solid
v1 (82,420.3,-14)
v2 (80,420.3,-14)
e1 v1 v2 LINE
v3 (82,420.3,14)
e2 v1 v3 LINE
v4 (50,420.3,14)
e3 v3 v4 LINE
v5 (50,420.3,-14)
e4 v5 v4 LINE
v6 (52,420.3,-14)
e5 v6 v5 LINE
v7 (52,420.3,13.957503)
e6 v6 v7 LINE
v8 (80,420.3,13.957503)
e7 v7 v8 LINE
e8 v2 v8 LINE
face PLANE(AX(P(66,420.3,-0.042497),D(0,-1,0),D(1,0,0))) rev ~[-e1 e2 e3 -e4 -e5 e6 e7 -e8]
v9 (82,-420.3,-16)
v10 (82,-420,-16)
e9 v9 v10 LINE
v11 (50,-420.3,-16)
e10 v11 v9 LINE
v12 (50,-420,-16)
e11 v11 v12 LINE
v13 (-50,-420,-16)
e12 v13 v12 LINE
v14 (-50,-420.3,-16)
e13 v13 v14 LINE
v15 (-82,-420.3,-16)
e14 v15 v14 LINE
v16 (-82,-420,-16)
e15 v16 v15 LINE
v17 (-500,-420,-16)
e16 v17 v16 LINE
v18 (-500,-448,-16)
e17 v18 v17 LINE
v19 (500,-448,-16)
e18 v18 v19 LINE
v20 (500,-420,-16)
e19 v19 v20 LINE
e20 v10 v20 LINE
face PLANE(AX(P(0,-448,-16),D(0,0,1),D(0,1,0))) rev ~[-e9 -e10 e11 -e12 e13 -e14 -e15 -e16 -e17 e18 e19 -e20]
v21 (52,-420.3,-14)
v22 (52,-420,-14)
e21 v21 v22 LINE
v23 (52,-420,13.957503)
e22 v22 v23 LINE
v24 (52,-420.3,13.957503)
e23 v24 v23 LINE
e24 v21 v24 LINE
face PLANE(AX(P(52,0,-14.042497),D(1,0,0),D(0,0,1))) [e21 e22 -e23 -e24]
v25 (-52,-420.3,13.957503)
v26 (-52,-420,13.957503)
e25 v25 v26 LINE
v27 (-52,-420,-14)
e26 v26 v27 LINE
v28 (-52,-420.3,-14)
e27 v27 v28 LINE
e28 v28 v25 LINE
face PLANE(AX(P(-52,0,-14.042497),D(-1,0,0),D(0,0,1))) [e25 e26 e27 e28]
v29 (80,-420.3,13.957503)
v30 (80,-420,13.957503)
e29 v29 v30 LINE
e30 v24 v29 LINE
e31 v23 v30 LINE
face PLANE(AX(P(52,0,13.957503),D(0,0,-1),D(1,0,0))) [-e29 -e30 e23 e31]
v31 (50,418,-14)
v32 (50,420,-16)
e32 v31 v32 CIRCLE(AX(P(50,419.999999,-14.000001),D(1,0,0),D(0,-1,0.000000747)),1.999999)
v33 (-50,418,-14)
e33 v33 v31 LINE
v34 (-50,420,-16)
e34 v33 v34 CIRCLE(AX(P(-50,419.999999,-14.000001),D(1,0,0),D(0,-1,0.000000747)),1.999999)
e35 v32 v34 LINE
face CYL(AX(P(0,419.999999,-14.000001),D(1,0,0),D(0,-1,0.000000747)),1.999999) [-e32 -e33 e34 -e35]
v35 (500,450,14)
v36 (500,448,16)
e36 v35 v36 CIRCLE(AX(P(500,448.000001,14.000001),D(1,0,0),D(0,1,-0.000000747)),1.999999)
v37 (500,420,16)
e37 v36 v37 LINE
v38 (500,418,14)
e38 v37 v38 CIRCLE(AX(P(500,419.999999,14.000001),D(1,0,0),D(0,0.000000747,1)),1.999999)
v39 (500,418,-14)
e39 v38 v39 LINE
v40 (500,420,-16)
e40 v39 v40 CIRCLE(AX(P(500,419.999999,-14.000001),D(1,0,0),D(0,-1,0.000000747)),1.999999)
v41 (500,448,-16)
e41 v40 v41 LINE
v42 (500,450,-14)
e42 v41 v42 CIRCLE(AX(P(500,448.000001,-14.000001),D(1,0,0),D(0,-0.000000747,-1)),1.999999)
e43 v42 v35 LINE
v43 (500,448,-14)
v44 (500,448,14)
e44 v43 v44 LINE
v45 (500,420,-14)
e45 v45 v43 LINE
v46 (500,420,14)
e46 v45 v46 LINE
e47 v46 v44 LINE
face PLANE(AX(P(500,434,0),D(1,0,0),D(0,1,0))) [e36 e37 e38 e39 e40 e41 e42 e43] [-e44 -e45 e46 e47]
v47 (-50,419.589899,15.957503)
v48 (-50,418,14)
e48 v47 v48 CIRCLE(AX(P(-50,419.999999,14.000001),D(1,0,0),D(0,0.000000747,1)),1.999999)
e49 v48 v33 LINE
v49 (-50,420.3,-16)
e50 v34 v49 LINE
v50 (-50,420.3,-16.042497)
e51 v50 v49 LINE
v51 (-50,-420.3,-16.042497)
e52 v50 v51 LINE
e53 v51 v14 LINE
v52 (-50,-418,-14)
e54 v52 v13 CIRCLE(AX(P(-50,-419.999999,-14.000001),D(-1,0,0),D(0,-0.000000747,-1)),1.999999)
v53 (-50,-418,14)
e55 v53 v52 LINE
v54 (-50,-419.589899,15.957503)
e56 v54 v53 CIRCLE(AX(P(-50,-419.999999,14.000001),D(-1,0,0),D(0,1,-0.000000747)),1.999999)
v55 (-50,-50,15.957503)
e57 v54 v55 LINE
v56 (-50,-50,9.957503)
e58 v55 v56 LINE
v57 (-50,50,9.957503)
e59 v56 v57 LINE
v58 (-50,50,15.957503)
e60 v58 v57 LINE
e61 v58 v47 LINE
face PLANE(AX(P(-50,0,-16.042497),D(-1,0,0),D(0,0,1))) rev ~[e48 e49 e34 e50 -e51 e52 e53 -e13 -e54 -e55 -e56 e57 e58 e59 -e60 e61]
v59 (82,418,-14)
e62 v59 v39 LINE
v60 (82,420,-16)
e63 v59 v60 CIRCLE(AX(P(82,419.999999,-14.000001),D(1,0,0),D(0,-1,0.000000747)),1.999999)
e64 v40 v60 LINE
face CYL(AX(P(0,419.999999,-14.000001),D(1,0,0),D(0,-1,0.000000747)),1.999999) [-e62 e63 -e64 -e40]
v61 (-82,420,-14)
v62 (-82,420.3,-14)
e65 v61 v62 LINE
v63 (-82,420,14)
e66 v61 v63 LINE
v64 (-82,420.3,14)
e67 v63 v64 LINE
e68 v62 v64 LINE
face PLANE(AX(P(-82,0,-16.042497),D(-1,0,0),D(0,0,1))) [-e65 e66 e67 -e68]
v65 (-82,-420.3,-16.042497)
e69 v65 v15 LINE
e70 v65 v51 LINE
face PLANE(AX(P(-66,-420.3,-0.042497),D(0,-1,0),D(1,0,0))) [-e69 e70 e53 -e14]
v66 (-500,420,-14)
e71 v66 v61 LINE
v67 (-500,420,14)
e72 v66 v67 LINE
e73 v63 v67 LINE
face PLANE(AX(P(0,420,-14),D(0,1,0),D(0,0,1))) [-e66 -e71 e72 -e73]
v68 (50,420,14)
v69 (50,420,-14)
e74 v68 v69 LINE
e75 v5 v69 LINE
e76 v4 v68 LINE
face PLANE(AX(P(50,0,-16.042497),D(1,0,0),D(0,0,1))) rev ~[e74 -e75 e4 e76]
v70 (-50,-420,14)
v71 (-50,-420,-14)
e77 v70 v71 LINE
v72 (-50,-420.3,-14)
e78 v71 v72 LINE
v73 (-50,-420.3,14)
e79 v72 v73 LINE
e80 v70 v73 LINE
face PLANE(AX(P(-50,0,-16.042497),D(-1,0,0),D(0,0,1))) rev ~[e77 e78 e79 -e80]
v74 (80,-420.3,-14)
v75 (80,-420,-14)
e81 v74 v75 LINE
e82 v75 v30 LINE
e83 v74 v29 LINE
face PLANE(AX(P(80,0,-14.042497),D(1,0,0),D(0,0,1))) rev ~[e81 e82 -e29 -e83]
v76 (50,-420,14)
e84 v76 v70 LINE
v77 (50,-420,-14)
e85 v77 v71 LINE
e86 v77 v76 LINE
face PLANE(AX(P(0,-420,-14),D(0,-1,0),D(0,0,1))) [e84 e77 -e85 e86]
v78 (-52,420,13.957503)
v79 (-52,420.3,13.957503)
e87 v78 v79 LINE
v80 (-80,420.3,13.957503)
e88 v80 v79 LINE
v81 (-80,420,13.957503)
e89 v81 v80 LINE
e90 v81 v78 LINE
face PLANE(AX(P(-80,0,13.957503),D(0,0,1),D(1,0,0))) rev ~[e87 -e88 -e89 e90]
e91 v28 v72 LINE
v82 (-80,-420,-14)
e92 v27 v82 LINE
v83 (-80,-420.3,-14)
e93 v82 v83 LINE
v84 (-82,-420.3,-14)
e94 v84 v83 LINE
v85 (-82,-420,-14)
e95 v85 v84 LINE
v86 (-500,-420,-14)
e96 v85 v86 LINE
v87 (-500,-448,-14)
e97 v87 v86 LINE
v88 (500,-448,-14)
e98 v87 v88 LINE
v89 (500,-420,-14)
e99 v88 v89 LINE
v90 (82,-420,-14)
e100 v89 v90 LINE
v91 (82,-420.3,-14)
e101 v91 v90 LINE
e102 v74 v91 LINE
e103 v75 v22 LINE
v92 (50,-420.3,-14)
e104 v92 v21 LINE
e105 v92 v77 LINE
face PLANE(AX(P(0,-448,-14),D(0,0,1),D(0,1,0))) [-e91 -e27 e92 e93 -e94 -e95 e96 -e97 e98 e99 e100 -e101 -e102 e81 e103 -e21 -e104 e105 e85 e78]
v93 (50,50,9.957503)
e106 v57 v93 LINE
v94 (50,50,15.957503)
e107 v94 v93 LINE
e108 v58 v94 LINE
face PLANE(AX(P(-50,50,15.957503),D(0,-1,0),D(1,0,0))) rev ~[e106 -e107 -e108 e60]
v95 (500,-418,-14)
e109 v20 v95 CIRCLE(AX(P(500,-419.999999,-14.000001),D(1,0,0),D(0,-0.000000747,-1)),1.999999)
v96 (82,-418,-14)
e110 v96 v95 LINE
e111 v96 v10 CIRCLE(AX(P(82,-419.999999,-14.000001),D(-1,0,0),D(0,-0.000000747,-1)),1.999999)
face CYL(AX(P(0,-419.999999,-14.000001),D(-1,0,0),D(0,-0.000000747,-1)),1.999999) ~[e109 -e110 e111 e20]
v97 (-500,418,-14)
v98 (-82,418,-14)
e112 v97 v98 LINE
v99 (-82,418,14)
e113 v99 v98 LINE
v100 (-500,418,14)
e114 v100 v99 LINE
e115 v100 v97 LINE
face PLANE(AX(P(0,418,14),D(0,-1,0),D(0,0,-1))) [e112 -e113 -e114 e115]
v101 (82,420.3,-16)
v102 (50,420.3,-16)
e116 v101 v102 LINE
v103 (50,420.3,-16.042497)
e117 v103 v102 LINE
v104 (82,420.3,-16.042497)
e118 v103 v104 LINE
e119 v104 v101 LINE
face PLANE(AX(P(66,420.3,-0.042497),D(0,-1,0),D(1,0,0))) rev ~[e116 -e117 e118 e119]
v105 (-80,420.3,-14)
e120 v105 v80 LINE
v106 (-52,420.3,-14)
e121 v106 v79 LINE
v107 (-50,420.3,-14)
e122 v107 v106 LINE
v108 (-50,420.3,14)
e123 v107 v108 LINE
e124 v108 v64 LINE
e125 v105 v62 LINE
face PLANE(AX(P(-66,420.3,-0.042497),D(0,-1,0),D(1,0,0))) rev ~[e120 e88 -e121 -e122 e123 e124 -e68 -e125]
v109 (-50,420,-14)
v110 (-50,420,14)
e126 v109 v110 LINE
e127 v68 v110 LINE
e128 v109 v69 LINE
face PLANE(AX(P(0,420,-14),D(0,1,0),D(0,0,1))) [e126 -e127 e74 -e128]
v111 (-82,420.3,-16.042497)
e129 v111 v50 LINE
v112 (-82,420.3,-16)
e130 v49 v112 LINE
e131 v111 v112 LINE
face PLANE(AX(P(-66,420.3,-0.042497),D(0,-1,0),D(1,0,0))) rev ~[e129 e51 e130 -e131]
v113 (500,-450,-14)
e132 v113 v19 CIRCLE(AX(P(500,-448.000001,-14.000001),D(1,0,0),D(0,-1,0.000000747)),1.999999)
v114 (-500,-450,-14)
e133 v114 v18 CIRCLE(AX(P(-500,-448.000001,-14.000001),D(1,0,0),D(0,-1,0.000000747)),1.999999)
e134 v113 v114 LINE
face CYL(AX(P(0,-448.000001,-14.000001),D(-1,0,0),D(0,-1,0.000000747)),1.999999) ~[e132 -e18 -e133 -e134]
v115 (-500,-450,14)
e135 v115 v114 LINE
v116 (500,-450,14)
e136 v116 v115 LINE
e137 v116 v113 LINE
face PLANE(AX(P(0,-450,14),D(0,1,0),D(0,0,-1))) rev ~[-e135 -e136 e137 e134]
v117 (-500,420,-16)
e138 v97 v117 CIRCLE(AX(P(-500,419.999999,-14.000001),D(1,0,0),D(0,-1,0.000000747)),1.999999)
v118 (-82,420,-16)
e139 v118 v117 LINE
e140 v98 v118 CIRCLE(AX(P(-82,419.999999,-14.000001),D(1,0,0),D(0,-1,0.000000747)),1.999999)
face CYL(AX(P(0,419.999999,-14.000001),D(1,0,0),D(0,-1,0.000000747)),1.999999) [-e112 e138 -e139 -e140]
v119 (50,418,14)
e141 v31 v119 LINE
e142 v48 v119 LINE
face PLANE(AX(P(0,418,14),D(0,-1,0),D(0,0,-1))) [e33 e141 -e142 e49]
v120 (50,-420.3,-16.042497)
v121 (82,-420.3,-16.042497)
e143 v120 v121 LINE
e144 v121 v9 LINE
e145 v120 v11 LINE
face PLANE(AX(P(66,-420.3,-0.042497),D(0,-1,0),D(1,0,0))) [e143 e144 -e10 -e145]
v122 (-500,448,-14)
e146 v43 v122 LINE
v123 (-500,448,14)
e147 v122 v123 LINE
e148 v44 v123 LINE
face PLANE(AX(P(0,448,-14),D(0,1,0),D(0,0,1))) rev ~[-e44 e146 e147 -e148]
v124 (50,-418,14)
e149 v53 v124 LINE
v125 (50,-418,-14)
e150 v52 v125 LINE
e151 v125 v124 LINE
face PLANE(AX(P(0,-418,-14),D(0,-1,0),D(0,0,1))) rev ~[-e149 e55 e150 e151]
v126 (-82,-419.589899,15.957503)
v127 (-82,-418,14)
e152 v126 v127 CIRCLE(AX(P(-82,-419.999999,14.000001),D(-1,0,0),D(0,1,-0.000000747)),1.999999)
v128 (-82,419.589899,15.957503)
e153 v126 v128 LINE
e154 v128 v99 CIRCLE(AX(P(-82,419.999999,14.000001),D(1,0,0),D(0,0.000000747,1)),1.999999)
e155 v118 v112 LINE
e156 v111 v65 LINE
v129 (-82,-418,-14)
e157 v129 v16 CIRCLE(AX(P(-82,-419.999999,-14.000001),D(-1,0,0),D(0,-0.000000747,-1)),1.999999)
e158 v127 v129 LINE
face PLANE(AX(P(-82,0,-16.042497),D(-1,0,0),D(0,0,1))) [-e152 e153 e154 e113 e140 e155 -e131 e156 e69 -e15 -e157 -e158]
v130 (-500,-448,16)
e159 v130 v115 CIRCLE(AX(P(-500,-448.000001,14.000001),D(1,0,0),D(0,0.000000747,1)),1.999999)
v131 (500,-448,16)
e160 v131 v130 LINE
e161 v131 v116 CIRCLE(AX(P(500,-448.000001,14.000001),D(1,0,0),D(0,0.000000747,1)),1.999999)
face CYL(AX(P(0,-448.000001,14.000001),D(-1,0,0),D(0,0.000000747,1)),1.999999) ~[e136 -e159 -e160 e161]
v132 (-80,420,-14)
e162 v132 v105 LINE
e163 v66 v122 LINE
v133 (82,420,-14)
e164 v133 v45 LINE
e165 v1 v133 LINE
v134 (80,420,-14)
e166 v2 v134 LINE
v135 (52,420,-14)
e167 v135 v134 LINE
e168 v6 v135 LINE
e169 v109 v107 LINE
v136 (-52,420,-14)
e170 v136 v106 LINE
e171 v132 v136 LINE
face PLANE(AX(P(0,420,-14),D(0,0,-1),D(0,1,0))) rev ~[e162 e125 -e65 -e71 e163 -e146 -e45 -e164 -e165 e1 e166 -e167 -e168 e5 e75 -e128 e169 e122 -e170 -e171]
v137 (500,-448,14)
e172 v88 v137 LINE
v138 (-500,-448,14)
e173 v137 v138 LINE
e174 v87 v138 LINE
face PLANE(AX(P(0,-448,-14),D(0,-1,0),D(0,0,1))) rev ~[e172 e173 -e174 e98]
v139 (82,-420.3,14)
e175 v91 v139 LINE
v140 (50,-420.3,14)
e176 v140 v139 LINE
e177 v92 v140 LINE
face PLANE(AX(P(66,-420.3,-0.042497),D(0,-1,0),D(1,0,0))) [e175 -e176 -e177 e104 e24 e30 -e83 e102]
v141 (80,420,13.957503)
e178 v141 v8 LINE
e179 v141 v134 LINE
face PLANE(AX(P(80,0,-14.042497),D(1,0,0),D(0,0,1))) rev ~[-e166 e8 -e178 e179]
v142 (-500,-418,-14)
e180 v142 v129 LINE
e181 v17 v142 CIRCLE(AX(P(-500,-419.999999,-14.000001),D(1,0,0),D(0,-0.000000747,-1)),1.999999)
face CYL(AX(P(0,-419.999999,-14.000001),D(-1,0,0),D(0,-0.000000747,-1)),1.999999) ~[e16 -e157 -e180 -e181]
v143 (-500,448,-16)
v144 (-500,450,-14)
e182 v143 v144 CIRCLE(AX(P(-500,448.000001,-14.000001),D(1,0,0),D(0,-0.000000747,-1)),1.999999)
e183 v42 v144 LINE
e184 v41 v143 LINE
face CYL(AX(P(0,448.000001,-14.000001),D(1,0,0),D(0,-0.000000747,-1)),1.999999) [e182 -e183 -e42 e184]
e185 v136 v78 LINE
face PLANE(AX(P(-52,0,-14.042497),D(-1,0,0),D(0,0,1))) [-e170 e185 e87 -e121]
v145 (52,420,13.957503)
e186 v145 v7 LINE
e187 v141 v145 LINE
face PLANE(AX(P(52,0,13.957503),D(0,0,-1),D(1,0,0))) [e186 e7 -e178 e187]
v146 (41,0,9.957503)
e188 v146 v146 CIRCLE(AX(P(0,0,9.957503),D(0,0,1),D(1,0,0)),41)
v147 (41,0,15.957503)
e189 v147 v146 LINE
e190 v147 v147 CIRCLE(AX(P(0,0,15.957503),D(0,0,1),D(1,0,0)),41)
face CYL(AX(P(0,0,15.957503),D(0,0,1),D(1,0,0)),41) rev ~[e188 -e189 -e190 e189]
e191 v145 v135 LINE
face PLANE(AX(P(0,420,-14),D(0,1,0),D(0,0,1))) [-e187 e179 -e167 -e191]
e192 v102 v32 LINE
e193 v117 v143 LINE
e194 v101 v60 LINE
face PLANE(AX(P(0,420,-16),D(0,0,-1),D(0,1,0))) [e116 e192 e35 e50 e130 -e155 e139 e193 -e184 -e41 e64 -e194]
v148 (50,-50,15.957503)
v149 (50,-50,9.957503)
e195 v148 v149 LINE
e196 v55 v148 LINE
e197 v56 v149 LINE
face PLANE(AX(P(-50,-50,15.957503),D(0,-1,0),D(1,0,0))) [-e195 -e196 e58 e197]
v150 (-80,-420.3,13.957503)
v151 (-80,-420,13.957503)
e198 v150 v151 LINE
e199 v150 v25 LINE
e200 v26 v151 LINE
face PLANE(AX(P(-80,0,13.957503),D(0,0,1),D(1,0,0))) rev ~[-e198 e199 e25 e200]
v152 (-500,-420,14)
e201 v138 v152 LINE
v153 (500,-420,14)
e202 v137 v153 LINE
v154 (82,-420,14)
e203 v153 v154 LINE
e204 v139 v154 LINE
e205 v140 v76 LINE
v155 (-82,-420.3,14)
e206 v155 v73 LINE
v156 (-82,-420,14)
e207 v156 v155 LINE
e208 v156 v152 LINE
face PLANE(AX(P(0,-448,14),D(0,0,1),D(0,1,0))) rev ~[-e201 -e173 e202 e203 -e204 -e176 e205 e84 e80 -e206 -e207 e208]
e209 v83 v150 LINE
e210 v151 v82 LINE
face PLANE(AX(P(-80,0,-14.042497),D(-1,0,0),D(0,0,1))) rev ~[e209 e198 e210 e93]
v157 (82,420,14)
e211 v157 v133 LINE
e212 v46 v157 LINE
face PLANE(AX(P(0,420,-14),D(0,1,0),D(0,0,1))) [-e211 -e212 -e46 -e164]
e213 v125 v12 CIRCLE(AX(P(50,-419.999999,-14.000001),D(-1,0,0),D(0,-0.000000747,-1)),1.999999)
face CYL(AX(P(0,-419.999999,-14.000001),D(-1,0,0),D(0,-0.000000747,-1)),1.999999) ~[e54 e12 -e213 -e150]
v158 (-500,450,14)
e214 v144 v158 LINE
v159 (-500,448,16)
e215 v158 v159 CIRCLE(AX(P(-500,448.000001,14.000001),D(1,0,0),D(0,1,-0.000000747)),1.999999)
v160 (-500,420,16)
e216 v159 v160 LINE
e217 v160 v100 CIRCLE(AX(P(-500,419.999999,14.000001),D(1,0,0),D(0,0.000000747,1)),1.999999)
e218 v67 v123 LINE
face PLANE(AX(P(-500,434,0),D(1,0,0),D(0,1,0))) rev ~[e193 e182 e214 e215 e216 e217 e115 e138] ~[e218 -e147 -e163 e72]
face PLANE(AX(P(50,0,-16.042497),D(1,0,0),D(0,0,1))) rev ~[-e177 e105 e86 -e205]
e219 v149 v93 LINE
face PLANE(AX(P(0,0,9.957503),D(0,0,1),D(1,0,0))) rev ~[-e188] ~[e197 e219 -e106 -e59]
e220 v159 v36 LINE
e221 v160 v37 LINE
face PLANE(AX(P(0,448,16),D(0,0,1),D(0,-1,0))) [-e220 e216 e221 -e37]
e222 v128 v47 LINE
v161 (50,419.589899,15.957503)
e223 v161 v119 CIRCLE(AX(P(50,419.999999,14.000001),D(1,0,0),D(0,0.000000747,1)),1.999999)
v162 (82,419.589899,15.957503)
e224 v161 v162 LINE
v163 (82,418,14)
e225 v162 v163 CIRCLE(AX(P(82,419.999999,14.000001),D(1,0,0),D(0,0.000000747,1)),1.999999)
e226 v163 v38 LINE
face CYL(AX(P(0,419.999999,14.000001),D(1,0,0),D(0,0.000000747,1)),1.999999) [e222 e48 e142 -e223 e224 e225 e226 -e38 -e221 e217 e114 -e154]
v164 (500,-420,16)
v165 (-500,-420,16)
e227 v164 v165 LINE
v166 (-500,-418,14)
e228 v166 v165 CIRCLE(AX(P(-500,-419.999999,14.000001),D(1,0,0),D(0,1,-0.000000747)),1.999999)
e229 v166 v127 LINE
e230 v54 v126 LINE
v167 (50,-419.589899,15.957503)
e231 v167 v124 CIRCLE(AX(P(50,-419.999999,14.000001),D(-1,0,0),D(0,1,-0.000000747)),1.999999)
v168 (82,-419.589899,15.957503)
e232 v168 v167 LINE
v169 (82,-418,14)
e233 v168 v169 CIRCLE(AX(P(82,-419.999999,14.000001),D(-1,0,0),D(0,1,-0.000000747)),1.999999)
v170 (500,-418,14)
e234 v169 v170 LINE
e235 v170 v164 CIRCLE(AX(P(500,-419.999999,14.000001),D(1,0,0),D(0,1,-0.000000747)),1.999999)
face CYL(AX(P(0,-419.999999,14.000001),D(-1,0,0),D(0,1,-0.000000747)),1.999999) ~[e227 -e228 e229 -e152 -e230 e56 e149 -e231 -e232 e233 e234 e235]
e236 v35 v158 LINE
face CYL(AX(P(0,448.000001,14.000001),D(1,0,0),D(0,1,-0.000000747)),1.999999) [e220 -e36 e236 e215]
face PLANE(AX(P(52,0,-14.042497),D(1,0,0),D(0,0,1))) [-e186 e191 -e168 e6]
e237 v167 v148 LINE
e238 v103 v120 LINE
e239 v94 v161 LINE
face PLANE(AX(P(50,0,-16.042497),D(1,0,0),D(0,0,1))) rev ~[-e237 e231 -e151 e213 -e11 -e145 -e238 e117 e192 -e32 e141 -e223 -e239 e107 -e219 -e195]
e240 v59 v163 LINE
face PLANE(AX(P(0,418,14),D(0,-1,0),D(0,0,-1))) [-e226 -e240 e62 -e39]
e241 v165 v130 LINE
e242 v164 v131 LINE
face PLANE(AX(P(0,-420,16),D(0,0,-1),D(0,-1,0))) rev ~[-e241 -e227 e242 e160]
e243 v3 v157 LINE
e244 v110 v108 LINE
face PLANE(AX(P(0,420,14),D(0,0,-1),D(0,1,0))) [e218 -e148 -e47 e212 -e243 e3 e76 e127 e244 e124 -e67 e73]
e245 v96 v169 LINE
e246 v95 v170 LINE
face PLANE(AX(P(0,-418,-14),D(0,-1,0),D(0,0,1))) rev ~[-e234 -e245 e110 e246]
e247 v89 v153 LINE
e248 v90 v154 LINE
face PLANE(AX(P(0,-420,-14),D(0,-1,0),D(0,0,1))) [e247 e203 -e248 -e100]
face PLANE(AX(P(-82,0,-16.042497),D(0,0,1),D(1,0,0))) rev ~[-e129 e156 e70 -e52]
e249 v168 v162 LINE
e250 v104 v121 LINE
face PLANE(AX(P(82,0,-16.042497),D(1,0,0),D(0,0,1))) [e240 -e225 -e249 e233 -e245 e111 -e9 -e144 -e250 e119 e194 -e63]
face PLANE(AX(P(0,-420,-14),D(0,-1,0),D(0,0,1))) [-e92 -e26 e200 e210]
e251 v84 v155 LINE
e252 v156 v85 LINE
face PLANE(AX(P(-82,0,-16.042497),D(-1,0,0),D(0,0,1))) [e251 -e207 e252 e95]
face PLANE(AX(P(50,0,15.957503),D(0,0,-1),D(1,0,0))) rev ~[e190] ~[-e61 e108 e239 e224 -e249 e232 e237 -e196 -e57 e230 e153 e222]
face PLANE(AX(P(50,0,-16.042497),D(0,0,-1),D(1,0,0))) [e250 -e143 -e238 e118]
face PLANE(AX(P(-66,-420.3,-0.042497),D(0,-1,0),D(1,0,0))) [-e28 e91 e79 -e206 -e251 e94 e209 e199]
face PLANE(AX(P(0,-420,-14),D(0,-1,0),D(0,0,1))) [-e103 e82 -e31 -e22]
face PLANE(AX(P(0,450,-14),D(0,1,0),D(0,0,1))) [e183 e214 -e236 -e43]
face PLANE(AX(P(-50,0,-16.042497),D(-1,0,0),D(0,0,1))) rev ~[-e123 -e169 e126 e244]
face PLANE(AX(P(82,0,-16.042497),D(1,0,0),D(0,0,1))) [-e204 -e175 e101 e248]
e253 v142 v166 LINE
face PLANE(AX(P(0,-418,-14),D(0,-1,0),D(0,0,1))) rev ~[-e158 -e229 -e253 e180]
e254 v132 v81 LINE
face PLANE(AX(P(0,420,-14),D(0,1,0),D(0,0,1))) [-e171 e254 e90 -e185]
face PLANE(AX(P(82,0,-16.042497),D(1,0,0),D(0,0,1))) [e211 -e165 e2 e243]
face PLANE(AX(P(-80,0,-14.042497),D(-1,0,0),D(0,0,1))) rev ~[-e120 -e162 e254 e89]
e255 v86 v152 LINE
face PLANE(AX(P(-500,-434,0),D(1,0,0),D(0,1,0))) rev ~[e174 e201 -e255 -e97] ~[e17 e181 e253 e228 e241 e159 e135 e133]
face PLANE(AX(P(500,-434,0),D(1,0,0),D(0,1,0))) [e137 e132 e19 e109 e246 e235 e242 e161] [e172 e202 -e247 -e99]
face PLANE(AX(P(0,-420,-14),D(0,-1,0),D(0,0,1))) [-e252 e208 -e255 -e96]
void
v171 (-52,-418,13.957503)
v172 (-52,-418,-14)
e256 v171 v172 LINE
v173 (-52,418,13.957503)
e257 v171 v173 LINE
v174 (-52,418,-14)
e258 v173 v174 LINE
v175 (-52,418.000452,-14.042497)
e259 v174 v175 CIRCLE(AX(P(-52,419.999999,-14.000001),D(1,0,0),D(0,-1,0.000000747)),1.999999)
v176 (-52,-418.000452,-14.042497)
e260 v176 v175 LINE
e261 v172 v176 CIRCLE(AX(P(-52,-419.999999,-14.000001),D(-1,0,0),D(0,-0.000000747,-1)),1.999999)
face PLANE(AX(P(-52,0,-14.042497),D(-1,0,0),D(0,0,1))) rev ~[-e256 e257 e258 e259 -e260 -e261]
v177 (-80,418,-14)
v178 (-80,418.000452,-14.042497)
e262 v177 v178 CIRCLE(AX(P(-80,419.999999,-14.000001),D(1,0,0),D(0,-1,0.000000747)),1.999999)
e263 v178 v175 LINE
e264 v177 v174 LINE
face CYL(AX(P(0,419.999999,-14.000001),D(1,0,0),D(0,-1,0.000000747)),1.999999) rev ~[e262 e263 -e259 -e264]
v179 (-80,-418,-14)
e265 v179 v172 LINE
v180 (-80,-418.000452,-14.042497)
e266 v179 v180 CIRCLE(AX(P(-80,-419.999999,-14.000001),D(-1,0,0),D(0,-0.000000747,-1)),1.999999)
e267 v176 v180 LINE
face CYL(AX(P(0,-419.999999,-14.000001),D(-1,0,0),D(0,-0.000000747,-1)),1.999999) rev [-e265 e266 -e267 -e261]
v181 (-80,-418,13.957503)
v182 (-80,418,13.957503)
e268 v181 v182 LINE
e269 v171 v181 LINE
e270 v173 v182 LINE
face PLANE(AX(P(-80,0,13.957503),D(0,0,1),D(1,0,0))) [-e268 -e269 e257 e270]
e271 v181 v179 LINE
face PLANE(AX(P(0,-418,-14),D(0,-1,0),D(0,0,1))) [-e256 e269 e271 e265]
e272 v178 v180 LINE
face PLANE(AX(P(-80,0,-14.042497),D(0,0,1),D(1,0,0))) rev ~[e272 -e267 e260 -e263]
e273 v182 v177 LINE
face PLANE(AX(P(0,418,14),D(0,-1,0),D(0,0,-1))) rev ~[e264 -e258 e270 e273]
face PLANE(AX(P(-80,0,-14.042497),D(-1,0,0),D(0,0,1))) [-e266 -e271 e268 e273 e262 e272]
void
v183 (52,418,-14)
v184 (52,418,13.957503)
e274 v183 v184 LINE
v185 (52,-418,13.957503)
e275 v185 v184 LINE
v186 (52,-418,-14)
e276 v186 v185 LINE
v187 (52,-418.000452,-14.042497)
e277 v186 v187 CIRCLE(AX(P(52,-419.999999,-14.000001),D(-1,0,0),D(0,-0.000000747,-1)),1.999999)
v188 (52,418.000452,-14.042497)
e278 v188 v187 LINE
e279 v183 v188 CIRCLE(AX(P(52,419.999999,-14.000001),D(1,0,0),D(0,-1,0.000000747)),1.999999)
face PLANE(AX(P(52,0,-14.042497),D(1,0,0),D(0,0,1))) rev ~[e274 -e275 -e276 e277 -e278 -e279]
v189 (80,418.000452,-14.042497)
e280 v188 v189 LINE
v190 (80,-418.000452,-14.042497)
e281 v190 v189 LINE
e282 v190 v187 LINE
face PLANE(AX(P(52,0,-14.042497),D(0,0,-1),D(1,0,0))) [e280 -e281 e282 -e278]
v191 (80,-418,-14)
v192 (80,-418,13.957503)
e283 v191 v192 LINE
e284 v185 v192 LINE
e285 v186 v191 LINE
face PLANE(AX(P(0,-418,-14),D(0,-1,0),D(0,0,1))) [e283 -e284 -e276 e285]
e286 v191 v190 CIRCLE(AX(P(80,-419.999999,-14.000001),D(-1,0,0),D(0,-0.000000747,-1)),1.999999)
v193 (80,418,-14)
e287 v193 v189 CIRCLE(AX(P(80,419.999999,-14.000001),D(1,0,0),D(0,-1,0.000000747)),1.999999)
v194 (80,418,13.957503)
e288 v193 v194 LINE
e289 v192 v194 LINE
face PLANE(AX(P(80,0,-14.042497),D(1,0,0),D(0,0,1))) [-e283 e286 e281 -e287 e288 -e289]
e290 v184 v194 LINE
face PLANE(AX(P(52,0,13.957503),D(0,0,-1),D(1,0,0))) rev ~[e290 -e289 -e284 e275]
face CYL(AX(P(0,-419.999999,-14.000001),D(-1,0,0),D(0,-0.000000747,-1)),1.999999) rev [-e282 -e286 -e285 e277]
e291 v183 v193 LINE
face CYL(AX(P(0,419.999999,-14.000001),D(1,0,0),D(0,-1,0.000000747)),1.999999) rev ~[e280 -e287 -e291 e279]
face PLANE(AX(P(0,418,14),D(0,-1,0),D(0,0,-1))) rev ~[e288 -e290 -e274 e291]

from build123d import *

# Parameters (mm, degrees)
F0_W     = 28
F0_H     = 28
F1_DEPTH = 500
F2_W     = 32
F2_H     = 32
F2_W_2   = 28
F2_H_2   = 28
F3_DEPTH = 420.3
F4_W     = 100
F4_H     = 100
F5_DEPTH = 6
F6_R     = 41
F7_DEPTH = 25


with BuildPart() as f1:
    # F0 (on Right) → F1 (new body, symmetric)
    with BuildSketch(Plane.YZ):
        with BuildLine():
            ThreePointArc((-450, -14), (-449.414214, -15.414214), (-448, -16))
            Line((-448, -16), (-420, -16))
            ThreePointArc((-420, -16), (-418.585786, -15.414214), (-418, -14))
            Line((-418, -14), (-418, 14))
            ThreePointArc((-418, 14), (-418.585786, 15.414214), (-420, 16))
            Line((-420, 16), (-448, 16))
            ThreePointArc((-448, 16), (-449.414214, 15.414214), (-450, 14))
            Line((-450, 14), (-450, -14))
        make_face()
        with Locations((-434, 0)):
            Rectangle(F0_W, F0_H, mode=Mode.SUBTRACT)
        with BuildLine():
            ThreePointArc((450, 14), (449.414214, 15.414214), (448, 16))
            Line((448, 16), (420, 16))
            ThreePointArc((420, 16), (418.585786, 15.414214), (418, 14))
            Line((418, 14), (418, -14))
            ThreePointArc((418, -14), (418.585786, -15.414214), (420, -16))
            Line((420, -16), (448, -16))
            ThreePointArc((448, -16), (449.414214, -15.414214), (450, -14))
            Line((450, -14), (450, 14))
        make_face()
        with Locations((434, 0)):
            Rectangle(F0_W, F0_H, mode=Mode.SUBTRACT)
    extrude(amount=F1_DEPTH, both=True)

    # F2 (on Front) → F3 (join, symmetric)
    with BuildSketch(Plane.XZ):
        with Locations((-66, -0.042497)):
            Rectangle(F2_W, F2_H)
        with Locations((-66, -0.042497)):
            Rectangle(F2_W_2, F2_H_2, mode=Mode.SUBTRACT)
        with Locations((66, -0.042497)):
            Rectangle(F2_W, F2_H)
        with Locations((66, -0.042497)):
            Rectangle(F2_W_2, F2_H_2, mode=Mode.SUBTRACT)
    extrude(amount=F3_DEPTH, both=True)

    # F4 (on face) → F5 (join)
    with BuildSketch(Plane.XY.offset(15.957503)):
        Rectangle(F4_W, F4_H)
    extrude(amount=-F5_DEPTH)

    # F6 (on face) → F7 (cut)
    with BuildSketch(Plane.XY.offset(15.957503)):
        Circle(F6_R)
    extrude(amount=-F7_DEPTH, mode=Mode.SUBTRACT)


solid = f1.part
